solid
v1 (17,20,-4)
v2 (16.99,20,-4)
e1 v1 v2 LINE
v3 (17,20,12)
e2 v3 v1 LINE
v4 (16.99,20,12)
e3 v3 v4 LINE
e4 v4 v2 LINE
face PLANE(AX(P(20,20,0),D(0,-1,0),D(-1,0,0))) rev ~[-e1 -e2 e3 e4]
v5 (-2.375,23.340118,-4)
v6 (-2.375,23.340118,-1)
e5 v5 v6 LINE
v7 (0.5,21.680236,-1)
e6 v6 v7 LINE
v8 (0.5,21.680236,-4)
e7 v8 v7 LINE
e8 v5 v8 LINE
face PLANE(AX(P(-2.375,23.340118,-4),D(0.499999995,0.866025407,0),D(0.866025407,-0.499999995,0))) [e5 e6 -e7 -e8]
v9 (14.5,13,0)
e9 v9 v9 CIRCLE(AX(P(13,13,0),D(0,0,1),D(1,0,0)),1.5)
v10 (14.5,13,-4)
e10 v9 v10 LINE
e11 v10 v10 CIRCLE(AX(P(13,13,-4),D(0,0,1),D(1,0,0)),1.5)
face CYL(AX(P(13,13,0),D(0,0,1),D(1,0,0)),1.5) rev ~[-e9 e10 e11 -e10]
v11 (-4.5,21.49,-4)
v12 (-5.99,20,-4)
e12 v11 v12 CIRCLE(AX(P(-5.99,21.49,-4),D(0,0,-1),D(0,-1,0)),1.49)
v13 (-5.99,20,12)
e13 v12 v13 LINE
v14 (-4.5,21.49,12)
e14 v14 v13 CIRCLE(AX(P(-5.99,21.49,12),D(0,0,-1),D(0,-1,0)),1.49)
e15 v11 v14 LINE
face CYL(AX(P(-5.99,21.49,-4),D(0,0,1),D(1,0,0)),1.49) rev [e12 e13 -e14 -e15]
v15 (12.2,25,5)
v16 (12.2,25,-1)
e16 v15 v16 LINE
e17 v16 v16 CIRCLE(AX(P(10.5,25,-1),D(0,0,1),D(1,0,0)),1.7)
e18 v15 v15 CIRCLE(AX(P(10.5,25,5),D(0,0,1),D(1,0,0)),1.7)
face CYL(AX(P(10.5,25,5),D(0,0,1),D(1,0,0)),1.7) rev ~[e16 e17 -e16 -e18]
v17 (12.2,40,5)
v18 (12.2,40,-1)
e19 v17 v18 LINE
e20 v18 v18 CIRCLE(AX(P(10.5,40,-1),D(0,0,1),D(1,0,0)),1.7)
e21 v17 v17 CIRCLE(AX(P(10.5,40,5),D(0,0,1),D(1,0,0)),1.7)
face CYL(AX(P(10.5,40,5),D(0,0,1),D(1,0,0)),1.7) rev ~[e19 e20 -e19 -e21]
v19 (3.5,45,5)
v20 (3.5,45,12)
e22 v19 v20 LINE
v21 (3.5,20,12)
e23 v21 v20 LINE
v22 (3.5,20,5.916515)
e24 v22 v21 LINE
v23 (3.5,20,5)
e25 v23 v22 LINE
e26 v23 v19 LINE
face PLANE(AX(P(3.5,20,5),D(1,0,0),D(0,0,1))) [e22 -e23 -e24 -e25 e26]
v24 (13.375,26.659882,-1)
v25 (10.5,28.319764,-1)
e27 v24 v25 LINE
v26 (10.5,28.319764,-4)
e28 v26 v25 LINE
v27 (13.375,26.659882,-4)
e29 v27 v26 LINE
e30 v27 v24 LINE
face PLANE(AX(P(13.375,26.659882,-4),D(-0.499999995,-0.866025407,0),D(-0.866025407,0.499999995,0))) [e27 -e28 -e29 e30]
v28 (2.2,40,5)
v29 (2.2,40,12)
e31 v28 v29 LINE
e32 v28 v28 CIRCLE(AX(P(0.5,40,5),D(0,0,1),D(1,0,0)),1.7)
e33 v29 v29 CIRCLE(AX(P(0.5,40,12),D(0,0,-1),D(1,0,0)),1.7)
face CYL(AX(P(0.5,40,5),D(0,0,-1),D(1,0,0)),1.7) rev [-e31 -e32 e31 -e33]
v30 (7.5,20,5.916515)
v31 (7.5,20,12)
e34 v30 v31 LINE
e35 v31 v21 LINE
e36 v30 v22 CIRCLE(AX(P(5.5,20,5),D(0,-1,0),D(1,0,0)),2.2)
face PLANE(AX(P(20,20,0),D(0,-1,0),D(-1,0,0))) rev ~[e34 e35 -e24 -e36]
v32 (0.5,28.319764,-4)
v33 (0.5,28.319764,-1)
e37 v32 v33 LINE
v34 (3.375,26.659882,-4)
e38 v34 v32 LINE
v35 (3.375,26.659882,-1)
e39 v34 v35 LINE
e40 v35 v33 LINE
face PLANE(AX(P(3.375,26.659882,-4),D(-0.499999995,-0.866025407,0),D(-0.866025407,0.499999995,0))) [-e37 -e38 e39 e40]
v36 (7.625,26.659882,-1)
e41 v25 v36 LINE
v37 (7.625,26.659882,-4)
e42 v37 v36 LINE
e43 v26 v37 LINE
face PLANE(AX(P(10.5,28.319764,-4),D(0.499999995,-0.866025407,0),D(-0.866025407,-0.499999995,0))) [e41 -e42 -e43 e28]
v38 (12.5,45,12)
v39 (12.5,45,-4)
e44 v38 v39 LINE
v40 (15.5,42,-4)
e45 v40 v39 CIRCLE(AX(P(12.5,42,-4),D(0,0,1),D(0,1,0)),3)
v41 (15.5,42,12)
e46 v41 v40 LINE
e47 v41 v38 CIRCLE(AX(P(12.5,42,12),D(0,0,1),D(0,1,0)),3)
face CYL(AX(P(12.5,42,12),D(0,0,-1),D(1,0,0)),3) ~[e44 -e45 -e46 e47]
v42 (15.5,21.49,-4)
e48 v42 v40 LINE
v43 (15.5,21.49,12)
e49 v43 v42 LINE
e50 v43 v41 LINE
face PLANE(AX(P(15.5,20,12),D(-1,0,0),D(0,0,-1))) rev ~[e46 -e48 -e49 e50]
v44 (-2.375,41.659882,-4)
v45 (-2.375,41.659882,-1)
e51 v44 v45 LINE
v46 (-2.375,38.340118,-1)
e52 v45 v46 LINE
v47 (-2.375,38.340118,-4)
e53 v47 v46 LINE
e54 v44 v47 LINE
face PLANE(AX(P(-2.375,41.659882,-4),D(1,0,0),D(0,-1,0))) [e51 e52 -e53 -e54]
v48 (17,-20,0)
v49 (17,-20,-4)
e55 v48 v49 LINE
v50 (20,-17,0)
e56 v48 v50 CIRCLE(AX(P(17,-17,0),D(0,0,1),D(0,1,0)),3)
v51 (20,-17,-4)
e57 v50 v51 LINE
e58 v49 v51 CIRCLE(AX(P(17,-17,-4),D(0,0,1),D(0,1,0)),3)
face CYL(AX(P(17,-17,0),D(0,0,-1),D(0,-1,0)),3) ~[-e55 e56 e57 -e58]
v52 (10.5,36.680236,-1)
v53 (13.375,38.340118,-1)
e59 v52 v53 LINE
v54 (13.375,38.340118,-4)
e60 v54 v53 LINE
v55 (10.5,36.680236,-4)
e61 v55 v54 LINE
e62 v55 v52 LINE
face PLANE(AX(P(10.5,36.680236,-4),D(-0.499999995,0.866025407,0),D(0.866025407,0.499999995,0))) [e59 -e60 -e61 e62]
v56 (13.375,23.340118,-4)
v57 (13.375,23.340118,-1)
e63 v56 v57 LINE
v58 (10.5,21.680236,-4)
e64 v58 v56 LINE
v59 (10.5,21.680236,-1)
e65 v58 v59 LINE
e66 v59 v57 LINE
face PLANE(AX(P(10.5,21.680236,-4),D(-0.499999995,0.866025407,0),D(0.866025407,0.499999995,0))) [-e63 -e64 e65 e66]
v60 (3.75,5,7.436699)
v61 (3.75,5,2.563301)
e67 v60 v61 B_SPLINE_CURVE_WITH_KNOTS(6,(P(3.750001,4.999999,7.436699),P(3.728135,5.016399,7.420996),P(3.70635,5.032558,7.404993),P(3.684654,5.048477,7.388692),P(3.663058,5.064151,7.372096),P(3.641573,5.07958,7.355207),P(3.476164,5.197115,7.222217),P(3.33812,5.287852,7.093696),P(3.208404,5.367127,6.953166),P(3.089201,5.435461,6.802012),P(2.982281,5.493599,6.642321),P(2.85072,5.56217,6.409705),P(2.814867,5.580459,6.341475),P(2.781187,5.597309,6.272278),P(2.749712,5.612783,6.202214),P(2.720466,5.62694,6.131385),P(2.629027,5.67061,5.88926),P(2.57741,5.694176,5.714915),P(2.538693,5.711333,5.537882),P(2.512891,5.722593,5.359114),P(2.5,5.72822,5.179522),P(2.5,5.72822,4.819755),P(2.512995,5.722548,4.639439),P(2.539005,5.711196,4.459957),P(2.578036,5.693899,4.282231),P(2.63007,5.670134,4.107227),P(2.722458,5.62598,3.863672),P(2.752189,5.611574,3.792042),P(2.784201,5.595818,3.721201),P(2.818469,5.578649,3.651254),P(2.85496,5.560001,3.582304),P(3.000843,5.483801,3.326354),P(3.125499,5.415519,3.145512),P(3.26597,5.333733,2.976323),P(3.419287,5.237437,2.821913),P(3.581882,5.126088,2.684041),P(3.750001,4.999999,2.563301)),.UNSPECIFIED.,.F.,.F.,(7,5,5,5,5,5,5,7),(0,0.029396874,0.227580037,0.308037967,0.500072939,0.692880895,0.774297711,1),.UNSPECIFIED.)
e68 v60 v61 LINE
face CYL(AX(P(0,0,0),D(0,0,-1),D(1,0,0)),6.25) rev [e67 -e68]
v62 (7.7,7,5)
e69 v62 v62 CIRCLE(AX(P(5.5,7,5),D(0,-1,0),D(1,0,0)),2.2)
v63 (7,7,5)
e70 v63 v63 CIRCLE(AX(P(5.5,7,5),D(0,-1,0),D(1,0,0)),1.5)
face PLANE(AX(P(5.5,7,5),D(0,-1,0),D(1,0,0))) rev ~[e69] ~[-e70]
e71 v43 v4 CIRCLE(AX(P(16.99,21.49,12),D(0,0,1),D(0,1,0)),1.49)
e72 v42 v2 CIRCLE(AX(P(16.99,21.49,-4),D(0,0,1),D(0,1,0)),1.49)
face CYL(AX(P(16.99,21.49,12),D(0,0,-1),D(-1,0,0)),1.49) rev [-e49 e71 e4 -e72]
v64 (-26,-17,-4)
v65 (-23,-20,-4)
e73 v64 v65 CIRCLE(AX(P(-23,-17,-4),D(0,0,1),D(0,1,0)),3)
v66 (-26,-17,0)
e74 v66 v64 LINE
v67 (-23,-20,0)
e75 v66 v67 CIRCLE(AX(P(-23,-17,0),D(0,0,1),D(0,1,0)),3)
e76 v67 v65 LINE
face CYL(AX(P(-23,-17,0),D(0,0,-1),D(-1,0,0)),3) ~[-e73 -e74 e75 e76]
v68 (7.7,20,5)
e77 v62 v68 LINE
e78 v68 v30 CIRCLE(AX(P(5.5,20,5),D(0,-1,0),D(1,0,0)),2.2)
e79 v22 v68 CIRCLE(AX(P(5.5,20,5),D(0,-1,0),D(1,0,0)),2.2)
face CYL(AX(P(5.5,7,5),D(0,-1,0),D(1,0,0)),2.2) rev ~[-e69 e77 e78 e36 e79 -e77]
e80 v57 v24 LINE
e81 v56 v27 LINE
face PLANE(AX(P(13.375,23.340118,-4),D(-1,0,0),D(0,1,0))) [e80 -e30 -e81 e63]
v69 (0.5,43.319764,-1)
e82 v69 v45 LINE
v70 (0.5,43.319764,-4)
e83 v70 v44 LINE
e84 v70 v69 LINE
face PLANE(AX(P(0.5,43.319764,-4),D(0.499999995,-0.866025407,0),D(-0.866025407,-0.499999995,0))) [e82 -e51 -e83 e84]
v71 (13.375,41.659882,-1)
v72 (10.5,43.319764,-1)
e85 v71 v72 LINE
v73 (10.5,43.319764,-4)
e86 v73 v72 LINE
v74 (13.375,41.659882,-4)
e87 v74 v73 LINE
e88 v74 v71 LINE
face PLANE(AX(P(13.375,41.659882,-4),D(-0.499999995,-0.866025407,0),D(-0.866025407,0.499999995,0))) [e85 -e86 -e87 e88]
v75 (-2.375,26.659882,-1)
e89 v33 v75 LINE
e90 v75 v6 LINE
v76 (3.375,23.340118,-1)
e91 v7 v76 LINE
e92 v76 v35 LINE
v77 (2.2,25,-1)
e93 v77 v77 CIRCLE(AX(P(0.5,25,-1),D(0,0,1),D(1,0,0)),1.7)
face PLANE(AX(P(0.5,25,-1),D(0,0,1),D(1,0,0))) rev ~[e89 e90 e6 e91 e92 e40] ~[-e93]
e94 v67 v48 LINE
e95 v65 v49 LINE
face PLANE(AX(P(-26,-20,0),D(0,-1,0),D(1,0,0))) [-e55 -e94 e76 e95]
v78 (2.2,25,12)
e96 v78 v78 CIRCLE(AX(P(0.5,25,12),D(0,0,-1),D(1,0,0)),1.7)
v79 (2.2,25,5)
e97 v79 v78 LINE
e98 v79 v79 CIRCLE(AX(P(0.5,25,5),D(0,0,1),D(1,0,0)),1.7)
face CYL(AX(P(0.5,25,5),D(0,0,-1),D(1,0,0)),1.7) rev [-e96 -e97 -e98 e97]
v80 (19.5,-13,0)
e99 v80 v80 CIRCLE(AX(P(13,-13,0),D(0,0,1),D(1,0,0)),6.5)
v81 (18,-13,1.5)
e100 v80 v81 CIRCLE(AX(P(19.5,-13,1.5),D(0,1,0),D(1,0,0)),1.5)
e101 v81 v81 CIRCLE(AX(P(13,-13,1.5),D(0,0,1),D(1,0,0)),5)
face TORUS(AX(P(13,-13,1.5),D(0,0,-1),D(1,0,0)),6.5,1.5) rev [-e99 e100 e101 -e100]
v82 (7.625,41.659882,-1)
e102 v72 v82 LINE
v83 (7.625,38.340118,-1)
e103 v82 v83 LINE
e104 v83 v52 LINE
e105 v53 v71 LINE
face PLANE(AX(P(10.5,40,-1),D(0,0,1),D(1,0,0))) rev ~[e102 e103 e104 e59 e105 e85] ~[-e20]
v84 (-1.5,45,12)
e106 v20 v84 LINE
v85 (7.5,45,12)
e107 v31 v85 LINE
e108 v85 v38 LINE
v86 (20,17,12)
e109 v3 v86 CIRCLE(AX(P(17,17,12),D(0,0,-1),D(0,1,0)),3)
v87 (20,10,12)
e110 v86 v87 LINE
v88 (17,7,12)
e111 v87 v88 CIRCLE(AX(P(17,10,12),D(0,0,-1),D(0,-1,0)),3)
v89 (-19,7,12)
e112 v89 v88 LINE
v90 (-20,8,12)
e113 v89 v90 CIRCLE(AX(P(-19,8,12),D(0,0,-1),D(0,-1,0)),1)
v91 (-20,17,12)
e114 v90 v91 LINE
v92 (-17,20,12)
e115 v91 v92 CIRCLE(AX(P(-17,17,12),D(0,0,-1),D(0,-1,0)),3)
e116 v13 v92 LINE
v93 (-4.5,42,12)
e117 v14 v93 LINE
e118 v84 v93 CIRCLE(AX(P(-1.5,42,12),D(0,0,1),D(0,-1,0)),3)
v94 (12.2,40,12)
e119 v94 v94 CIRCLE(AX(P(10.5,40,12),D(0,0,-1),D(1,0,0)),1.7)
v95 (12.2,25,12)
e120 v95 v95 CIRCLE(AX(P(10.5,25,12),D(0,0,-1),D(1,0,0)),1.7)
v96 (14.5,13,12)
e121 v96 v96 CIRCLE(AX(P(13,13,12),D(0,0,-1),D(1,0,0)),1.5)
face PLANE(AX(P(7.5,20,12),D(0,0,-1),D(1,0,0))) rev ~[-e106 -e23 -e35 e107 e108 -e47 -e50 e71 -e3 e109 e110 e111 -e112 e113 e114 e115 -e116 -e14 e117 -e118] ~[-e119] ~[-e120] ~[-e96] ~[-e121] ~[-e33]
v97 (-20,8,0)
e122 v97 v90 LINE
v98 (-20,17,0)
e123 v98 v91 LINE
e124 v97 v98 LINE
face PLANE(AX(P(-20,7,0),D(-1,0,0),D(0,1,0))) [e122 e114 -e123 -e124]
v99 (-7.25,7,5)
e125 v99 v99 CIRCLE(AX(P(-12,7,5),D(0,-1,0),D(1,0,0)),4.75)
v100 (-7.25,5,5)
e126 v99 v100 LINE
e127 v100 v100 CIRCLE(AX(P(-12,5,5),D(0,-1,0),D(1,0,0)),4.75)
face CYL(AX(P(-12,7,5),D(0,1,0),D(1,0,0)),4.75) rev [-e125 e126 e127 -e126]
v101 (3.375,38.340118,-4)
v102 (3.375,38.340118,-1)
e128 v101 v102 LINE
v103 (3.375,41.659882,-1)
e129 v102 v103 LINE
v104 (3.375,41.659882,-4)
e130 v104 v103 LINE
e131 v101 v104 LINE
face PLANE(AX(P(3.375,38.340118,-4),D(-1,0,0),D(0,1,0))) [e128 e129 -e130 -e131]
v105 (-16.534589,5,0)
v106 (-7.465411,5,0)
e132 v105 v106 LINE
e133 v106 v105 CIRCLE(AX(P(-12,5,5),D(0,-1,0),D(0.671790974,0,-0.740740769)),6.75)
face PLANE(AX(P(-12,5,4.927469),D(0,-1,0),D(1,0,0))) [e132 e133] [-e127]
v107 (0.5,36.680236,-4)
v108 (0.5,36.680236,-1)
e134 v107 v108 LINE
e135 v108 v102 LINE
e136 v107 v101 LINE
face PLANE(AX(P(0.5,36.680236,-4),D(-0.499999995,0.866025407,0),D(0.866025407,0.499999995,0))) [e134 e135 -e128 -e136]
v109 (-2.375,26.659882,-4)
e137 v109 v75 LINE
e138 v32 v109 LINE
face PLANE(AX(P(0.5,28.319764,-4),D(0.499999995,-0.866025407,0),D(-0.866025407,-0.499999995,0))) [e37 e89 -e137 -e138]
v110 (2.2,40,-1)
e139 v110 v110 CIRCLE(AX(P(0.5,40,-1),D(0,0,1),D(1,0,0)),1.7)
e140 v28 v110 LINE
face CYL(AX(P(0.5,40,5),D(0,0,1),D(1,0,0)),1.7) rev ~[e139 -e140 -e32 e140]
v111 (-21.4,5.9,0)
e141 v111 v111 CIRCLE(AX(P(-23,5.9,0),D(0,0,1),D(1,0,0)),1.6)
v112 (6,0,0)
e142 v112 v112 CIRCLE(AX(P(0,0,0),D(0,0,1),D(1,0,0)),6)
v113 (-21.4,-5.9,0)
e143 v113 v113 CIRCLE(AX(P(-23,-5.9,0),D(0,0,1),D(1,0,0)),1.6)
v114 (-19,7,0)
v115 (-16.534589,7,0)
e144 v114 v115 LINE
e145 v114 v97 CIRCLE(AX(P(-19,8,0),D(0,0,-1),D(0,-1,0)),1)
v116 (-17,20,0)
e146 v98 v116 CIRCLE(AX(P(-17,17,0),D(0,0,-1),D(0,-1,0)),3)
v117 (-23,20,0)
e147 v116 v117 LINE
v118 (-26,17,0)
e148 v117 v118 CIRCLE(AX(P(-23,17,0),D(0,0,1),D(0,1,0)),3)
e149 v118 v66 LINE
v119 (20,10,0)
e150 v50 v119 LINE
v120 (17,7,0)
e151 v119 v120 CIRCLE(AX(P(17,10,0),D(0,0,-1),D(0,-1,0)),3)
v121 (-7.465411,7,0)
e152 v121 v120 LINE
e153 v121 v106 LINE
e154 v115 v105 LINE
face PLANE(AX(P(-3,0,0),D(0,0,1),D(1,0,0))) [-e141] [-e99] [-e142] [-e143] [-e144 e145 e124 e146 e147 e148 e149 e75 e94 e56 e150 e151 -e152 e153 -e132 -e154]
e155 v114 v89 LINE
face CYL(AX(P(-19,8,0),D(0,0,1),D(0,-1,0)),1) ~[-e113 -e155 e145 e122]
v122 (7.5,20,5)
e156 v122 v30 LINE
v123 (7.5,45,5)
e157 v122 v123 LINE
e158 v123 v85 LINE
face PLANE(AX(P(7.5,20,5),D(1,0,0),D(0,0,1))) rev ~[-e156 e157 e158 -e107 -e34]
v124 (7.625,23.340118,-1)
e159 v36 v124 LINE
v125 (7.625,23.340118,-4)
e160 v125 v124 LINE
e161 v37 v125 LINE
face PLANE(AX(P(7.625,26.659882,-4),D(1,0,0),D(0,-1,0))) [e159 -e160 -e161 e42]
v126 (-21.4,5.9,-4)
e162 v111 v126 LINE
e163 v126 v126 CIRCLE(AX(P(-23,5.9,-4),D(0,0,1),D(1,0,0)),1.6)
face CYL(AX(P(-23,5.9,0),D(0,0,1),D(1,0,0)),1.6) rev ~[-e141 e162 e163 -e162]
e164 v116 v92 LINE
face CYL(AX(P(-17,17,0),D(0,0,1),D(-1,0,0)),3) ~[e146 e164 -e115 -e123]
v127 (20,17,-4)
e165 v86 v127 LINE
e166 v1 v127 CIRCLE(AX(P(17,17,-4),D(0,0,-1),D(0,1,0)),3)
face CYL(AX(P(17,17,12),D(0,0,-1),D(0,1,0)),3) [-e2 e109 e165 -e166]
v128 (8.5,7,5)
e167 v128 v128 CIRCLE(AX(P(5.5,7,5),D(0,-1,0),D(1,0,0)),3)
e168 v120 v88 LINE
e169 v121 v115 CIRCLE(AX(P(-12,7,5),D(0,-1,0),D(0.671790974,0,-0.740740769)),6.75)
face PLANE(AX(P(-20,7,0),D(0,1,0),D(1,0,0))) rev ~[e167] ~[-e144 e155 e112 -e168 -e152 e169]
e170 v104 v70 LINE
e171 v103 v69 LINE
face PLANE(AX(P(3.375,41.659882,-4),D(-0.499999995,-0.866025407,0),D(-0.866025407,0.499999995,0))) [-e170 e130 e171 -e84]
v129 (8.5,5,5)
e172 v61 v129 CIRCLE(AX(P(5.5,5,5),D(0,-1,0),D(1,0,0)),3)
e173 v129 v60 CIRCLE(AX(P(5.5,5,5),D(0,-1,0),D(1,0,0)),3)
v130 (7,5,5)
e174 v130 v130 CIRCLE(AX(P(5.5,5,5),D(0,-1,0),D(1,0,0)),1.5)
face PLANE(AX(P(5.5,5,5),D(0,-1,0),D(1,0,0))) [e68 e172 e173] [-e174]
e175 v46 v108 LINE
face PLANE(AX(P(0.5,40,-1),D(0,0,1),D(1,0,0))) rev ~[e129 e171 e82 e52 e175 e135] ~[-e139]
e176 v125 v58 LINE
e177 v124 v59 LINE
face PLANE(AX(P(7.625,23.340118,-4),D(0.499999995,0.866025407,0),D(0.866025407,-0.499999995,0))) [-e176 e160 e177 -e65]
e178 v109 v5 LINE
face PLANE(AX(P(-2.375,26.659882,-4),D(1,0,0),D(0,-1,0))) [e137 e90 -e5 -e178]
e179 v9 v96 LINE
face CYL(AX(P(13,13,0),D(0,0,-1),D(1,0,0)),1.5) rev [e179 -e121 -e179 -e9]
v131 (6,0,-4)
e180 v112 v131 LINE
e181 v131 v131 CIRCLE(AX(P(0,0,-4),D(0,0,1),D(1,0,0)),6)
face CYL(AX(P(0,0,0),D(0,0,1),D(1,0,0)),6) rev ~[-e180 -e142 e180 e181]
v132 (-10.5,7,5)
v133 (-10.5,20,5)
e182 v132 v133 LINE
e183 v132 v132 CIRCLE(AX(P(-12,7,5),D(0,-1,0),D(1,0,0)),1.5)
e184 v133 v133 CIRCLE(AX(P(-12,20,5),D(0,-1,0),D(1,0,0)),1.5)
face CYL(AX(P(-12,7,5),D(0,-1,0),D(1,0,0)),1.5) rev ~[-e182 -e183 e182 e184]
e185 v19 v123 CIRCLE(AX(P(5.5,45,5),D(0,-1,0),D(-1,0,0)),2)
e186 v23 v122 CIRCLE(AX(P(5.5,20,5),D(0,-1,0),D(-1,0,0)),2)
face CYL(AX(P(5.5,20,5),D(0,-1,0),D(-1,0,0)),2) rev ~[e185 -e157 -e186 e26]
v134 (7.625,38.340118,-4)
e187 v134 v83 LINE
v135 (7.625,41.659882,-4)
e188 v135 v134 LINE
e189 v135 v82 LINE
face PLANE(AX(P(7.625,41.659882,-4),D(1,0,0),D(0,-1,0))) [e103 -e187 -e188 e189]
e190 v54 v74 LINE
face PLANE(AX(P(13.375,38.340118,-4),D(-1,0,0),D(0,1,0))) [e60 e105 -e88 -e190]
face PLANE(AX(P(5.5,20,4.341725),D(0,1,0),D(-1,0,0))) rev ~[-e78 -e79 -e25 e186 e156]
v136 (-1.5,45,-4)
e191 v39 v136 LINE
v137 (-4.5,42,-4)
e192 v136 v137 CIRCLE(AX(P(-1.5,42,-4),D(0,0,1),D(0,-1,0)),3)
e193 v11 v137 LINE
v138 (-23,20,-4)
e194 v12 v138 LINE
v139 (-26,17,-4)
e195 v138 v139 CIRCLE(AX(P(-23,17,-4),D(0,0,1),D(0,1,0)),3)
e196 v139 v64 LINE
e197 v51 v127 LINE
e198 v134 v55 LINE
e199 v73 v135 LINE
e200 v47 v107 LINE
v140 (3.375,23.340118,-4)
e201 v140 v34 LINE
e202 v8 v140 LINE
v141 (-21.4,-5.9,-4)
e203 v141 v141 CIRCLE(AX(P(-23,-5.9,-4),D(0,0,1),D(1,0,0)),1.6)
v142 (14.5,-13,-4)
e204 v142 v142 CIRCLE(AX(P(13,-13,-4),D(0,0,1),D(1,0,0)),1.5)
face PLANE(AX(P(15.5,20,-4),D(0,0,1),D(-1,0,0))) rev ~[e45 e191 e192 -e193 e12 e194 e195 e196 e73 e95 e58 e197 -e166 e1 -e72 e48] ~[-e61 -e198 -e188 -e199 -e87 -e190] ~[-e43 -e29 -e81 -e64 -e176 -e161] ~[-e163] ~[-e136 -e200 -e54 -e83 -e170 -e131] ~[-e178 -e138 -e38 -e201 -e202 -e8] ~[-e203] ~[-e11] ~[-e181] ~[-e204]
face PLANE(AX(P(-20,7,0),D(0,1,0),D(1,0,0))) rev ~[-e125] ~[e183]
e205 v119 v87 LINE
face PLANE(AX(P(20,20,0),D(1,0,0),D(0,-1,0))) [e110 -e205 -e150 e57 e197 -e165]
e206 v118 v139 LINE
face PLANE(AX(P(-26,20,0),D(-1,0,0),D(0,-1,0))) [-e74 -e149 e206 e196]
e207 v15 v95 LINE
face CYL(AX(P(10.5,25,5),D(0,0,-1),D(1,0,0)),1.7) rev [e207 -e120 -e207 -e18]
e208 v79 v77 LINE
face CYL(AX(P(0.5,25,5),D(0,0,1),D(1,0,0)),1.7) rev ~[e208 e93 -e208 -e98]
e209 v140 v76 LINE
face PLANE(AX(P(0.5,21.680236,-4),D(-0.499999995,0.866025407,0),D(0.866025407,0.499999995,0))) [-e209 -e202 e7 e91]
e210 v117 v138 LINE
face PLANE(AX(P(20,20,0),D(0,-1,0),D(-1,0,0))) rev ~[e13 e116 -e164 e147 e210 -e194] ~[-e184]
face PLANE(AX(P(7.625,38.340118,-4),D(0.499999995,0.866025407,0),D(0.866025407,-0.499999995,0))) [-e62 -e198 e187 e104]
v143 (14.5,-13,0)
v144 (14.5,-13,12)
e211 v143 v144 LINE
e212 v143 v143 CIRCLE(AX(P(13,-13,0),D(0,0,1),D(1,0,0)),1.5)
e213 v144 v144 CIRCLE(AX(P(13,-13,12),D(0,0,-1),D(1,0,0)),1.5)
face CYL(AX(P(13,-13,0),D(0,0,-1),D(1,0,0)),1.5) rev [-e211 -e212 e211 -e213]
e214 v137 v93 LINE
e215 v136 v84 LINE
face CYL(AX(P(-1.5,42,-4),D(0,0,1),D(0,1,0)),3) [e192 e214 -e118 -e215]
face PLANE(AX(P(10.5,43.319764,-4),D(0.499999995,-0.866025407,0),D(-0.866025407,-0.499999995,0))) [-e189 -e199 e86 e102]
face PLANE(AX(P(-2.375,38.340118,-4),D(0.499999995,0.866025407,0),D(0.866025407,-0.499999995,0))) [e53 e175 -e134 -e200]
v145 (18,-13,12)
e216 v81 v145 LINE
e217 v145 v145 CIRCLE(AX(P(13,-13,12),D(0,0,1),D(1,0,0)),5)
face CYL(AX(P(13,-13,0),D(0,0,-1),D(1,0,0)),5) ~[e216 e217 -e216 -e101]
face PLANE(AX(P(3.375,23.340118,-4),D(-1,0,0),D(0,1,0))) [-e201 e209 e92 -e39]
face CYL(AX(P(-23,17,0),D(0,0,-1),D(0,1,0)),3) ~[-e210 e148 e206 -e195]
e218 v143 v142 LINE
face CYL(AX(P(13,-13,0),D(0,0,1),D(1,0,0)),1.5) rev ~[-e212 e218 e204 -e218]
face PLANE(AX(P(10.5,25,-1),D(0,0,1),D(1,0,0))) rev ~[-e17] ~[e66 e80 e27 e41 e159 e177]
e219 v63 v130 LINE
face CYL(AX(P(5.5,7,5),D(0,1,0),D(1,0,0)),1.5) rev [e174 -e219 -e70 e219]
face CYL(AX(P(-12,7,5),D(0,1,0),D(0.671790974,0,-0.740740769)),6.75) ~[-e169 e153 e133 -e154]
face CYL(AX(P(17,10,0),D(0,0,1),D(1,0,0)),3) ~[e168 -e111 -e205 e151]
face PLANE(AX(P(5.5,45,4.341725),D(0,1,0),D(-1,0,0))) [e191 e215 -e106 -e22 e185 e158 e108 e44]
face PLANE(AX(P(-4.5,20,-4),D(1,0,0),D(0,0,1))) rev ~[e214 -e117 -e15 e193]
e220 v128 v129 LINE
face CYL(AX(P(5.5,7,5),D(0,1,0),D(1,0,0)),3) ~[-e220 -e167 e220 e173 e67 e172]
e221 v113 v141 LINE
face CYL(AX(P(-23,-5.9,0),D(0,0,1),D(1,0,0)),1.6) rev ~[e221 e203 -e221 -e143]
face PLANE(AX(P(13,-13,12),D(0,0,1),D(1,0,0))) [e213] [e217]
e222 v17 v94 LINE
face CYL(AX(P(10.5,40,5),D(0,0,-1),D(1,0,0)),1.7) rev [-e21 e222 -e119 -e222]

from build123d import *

# Parameters (mm, degrees)
PAD005_DEPTH         = 25
SKETCH010_R          = 1.7
POCKET005_DEPTH      = 7.001
POCKET005_DEPTH_BACK = 9.001
POCKET006_DEPTH      = 3
SKETCH_R             = 1.6
SKETCH_R_2           = 6
PAD_DEPTH            = 4
SKETCH001_R          = 5
PAD001_DEPTH         = 12
SKETCH002_R          = 2.2
POCKET_DEPTH         = 13.001
SKETCH004_R          = 1.5
POCKET002_DEPTH      = 13.001
SKETCH005_R          = 1.5
POCKET003_DEPTH      = 4.001
POCKET003_DEPTH_BACK = 12.001
SKETCH007_R          = 3
SKETCH007_R_2        = 1.5
PAD003_DEPTH         = 2
SKETCH003_R          = 4.75
PAD004_DEPTH         = 2
SKETCH008_R          = 6.25
POCKET004_DEPTH      = 12.001
FILLET_R             = 1.5
FILLET001_R          = 3
FILLET002_R          = 1
FILLET003_R          = 1.49
FILLET004_R          = 3


with BuildPart() as tubeclampingbody:
    # Sketch009 → Pad005 (new body)
    with BuildSketch(Plane.XZ):
        with BuildLine():
            Line((10, 7), (10, -9))
            Line((10, -9), (-10, -9))
            Line((-10, -9), (-10, 7))
            Line((-2, 7), (-10, 7))
            Line((-2, 0), (-2, 7))
            ThreePointArc((-2, 0), (0, -2), (2, 0))
            Line((2, 0), (2, 7))
            Line((2, 7), (10, 7))
        make_face()
    extrude(amount=-PAD005_DEPTH)

    # Sketch010 → Pocket005 (cut, two sides)
    with BuildSketch(Plane.XY) as pocket005_sk:
        with Locations((-5, 5)):
            Circle(SKETCH010_R)
        with Locations((5, 5)):
            Circle(SKETCH010_R)
        with Locations((-5, 20)):
            Circle(SKETCH010_R)
        with Locations((5, 20)):
            Circle(SKETCH010_R)
    extrude(amount=POCKET005_DEPTH, mode=Mode.SUBTRACT)
    extrude(pocket005_sk.sketch, amount=-POCKET005_DEPTH_BACK, mode=Mode.SUBTRACT)

    # Sketch011 (on DatumPlane) → Pocket006 (cut)
    with BuildSketch(Plane.XY.offset(-9)):
        Polygon((-2.125, 3.340118), (-2.125, 6.659882), (-5, 8.319764), (-7.875, 6.659882), (-7.875, 3.340118), (-5, 1.680236), align=None)
        Polygon((7.875, 3.340118), (7.875, 6.659882), (5, 8.319764), (2.125, 6.659882), (2.125, 3.340118), (5, 1.680236), align=None)
        Polygon((-2.125, 18.340118), (-2.125, 21.659882), (-5, 23.319764), (-7.875, 21.659882), (-7.875, 18.340118), (-5, 16.680236), align=None)
        Polygon((7.875, 18.340118), (7.875, 21.659882), (5, 23.319764), (2.125, 21.659882), (2.125, 18.340118), (5, 16.680236), align=None)
    extrude(amount=POCKET006_DEPTH, mode=Mode.SUBTRACT)


with BuildPart() as tubeclampingbody_1:
    # Body001 placement: moved
    add(tubeclampingbody.part.moved(Location((5.5, 20, 5))))


with BuildPart() as drivebase_refined:
    # Sketch → Pad (new body)
    with BuildSketch(Plane.XY):
        Polygon((0, 20), (-26, 20), (-26, 0), (-26, -20), (0, -20), (20, -20), (20, 0), (20, 20), align=None)
        with Locations((-23, 5.9)):
            Circle(SKETCH_R, mode=Mode.SUBTRACT)
        with Locations((-23, -5.9)):
            Circle(SKETCH_R, mode=Mode.SUBTRACT)
        Circle(SKETCH_R_2, mode=Mode.SUBTRACT)
    extrude(amount=-PAD_DEPTH)

    # Sketch001 → Pad001 (join)
    with BuildSketch(Plane.XY):
        with Locations((13, -13)):
            Circle(SKETCH001_R)
        Polygon((0, 20), (20, 20), (20, 7), (0, 7), (-20, 7), (-20, 20), align=None)
    extrude(amount=PAD001_DEPTH)

    # Sketch002 (on DatumPlane) → Pocket (cut, through all)
    with BuildSketch(Plane.XZ.offset(-7)):
        with Locations((5.5, 5)):
            Circle(SKETCH002_R)
    extrude(amount=-POCKET_DEPTH, mode=Mode.SUBTRACT)

    # Sketch004 (on DatumPlane) → Pocket002 (cut, through all)
    with BuildSketch(Plane.XZ.offset(-7)):
        with Locations((-12, 5)):
            Circle(SKETCH004_R)
    extrude(amount=-POCKET002_DEPTH, mode=Mode.SUBTRACT)

    # Sketch005 → Pocket003 (cut, two sides)
    with BuildSketch(Plane.XY) as pocket003_sk:
        with Locations((13, -13)):
            Circle(SKETCH005_R)
        with Locations((13, 13)):
            Circle(SKETCH005_R)
    extrude(amount=-POCKET003_DEPTH, mode=Mode.SUBTRACT)
    extrude(pocket003_sk.sketch, amount=POCKET003_DEPTH_BACK, mode=Mode.SUBTRACT)

    # Sketch007 (on DatumPlane) → Pad003 (join)
    with BuildSketch(Plane.XZ.offset(-7)):
        with Locations((5.5, 5)):
            Circle(SKETCH007_R)
        with Locations((5.5, 5)):
            Circle(SKETCH007_R_2, mode=Mode.SUBTRACT)
    extrude(amount=PAD003_DEPTH)

    # Sketch003 (on DatumPlane) → Pad004 (join)
    with BuildSketch(Plane.XZ.offset(-7)):
        with BuildLine():
            ThreePointArc((-7.465411, 0), (-12, 11.75), (-16.534589, 0))
            Line((-16.534589, 0), (-7.465411, 0))
        make_face()
        with Locations((-12, 5)):
            Circle(SKETCH003_R, mode=Mode.SUBTRACT)
    extrude(amount=PAD004_DEPTH)

    # Sketch008 → Pocket004 (cut, through all)
    with BuildSketch(Plane.XY):
        Circle(SKETCH008_R)
    extrude(amount=POCKET004_DEPTH, mode=Mode.SUBTRACT)

    # Fillet
    fillet_edges = [drivebase_refined.edges().sort_by_distance(p)[0] for p in [
        (8, -13, 0),
    ]]
    fillet(fillet_edges, radius=FILLET_R)

    # Fillet001
    fillet001_edges = [drivebase_refined.edges().sort_by_distance(p)[0] for p in [
        (-26, -20, -2),
        (20, -20, -2),
        (20, 20, -2),
        (-26, 20, -2),
        (20, 7, 6),
        (-20, 20, 6),
    ]]
    fillet(fillet001_edges, radius=FILLET001_R)

    # Fillet002
    fillet002_edges = [drivebase_refined.edges().sort_by_distance(p)[0] for p in [
        (-20, 7, 6),
    ]]
    fillet(fillet002_edges, radius=FILLET002_R)

    # Fusion: union TubeClampingBody
    add(tubeclampingbody_1.part)

    # Fillet003
    fillet003_edges = [drivebase_refined.edges().sort_by_distance(p)[0] for p in [
        (-4.5, 20, 6),
        (15.5, 20, 6),
    ]]
    fillet(fillet003_edges, radius=FILLET003_R)

    # Fillet004
    fillet004_edges = [drivebase_refined.edges().sort_by_distance(p)[0] for p in [
        (-4.5, 45, 4),
        (15.5, 45, 4),
    ]]
    fillet(fillet004_edges, radius=FILLET004_R)


solid = drivebase_refined.part
